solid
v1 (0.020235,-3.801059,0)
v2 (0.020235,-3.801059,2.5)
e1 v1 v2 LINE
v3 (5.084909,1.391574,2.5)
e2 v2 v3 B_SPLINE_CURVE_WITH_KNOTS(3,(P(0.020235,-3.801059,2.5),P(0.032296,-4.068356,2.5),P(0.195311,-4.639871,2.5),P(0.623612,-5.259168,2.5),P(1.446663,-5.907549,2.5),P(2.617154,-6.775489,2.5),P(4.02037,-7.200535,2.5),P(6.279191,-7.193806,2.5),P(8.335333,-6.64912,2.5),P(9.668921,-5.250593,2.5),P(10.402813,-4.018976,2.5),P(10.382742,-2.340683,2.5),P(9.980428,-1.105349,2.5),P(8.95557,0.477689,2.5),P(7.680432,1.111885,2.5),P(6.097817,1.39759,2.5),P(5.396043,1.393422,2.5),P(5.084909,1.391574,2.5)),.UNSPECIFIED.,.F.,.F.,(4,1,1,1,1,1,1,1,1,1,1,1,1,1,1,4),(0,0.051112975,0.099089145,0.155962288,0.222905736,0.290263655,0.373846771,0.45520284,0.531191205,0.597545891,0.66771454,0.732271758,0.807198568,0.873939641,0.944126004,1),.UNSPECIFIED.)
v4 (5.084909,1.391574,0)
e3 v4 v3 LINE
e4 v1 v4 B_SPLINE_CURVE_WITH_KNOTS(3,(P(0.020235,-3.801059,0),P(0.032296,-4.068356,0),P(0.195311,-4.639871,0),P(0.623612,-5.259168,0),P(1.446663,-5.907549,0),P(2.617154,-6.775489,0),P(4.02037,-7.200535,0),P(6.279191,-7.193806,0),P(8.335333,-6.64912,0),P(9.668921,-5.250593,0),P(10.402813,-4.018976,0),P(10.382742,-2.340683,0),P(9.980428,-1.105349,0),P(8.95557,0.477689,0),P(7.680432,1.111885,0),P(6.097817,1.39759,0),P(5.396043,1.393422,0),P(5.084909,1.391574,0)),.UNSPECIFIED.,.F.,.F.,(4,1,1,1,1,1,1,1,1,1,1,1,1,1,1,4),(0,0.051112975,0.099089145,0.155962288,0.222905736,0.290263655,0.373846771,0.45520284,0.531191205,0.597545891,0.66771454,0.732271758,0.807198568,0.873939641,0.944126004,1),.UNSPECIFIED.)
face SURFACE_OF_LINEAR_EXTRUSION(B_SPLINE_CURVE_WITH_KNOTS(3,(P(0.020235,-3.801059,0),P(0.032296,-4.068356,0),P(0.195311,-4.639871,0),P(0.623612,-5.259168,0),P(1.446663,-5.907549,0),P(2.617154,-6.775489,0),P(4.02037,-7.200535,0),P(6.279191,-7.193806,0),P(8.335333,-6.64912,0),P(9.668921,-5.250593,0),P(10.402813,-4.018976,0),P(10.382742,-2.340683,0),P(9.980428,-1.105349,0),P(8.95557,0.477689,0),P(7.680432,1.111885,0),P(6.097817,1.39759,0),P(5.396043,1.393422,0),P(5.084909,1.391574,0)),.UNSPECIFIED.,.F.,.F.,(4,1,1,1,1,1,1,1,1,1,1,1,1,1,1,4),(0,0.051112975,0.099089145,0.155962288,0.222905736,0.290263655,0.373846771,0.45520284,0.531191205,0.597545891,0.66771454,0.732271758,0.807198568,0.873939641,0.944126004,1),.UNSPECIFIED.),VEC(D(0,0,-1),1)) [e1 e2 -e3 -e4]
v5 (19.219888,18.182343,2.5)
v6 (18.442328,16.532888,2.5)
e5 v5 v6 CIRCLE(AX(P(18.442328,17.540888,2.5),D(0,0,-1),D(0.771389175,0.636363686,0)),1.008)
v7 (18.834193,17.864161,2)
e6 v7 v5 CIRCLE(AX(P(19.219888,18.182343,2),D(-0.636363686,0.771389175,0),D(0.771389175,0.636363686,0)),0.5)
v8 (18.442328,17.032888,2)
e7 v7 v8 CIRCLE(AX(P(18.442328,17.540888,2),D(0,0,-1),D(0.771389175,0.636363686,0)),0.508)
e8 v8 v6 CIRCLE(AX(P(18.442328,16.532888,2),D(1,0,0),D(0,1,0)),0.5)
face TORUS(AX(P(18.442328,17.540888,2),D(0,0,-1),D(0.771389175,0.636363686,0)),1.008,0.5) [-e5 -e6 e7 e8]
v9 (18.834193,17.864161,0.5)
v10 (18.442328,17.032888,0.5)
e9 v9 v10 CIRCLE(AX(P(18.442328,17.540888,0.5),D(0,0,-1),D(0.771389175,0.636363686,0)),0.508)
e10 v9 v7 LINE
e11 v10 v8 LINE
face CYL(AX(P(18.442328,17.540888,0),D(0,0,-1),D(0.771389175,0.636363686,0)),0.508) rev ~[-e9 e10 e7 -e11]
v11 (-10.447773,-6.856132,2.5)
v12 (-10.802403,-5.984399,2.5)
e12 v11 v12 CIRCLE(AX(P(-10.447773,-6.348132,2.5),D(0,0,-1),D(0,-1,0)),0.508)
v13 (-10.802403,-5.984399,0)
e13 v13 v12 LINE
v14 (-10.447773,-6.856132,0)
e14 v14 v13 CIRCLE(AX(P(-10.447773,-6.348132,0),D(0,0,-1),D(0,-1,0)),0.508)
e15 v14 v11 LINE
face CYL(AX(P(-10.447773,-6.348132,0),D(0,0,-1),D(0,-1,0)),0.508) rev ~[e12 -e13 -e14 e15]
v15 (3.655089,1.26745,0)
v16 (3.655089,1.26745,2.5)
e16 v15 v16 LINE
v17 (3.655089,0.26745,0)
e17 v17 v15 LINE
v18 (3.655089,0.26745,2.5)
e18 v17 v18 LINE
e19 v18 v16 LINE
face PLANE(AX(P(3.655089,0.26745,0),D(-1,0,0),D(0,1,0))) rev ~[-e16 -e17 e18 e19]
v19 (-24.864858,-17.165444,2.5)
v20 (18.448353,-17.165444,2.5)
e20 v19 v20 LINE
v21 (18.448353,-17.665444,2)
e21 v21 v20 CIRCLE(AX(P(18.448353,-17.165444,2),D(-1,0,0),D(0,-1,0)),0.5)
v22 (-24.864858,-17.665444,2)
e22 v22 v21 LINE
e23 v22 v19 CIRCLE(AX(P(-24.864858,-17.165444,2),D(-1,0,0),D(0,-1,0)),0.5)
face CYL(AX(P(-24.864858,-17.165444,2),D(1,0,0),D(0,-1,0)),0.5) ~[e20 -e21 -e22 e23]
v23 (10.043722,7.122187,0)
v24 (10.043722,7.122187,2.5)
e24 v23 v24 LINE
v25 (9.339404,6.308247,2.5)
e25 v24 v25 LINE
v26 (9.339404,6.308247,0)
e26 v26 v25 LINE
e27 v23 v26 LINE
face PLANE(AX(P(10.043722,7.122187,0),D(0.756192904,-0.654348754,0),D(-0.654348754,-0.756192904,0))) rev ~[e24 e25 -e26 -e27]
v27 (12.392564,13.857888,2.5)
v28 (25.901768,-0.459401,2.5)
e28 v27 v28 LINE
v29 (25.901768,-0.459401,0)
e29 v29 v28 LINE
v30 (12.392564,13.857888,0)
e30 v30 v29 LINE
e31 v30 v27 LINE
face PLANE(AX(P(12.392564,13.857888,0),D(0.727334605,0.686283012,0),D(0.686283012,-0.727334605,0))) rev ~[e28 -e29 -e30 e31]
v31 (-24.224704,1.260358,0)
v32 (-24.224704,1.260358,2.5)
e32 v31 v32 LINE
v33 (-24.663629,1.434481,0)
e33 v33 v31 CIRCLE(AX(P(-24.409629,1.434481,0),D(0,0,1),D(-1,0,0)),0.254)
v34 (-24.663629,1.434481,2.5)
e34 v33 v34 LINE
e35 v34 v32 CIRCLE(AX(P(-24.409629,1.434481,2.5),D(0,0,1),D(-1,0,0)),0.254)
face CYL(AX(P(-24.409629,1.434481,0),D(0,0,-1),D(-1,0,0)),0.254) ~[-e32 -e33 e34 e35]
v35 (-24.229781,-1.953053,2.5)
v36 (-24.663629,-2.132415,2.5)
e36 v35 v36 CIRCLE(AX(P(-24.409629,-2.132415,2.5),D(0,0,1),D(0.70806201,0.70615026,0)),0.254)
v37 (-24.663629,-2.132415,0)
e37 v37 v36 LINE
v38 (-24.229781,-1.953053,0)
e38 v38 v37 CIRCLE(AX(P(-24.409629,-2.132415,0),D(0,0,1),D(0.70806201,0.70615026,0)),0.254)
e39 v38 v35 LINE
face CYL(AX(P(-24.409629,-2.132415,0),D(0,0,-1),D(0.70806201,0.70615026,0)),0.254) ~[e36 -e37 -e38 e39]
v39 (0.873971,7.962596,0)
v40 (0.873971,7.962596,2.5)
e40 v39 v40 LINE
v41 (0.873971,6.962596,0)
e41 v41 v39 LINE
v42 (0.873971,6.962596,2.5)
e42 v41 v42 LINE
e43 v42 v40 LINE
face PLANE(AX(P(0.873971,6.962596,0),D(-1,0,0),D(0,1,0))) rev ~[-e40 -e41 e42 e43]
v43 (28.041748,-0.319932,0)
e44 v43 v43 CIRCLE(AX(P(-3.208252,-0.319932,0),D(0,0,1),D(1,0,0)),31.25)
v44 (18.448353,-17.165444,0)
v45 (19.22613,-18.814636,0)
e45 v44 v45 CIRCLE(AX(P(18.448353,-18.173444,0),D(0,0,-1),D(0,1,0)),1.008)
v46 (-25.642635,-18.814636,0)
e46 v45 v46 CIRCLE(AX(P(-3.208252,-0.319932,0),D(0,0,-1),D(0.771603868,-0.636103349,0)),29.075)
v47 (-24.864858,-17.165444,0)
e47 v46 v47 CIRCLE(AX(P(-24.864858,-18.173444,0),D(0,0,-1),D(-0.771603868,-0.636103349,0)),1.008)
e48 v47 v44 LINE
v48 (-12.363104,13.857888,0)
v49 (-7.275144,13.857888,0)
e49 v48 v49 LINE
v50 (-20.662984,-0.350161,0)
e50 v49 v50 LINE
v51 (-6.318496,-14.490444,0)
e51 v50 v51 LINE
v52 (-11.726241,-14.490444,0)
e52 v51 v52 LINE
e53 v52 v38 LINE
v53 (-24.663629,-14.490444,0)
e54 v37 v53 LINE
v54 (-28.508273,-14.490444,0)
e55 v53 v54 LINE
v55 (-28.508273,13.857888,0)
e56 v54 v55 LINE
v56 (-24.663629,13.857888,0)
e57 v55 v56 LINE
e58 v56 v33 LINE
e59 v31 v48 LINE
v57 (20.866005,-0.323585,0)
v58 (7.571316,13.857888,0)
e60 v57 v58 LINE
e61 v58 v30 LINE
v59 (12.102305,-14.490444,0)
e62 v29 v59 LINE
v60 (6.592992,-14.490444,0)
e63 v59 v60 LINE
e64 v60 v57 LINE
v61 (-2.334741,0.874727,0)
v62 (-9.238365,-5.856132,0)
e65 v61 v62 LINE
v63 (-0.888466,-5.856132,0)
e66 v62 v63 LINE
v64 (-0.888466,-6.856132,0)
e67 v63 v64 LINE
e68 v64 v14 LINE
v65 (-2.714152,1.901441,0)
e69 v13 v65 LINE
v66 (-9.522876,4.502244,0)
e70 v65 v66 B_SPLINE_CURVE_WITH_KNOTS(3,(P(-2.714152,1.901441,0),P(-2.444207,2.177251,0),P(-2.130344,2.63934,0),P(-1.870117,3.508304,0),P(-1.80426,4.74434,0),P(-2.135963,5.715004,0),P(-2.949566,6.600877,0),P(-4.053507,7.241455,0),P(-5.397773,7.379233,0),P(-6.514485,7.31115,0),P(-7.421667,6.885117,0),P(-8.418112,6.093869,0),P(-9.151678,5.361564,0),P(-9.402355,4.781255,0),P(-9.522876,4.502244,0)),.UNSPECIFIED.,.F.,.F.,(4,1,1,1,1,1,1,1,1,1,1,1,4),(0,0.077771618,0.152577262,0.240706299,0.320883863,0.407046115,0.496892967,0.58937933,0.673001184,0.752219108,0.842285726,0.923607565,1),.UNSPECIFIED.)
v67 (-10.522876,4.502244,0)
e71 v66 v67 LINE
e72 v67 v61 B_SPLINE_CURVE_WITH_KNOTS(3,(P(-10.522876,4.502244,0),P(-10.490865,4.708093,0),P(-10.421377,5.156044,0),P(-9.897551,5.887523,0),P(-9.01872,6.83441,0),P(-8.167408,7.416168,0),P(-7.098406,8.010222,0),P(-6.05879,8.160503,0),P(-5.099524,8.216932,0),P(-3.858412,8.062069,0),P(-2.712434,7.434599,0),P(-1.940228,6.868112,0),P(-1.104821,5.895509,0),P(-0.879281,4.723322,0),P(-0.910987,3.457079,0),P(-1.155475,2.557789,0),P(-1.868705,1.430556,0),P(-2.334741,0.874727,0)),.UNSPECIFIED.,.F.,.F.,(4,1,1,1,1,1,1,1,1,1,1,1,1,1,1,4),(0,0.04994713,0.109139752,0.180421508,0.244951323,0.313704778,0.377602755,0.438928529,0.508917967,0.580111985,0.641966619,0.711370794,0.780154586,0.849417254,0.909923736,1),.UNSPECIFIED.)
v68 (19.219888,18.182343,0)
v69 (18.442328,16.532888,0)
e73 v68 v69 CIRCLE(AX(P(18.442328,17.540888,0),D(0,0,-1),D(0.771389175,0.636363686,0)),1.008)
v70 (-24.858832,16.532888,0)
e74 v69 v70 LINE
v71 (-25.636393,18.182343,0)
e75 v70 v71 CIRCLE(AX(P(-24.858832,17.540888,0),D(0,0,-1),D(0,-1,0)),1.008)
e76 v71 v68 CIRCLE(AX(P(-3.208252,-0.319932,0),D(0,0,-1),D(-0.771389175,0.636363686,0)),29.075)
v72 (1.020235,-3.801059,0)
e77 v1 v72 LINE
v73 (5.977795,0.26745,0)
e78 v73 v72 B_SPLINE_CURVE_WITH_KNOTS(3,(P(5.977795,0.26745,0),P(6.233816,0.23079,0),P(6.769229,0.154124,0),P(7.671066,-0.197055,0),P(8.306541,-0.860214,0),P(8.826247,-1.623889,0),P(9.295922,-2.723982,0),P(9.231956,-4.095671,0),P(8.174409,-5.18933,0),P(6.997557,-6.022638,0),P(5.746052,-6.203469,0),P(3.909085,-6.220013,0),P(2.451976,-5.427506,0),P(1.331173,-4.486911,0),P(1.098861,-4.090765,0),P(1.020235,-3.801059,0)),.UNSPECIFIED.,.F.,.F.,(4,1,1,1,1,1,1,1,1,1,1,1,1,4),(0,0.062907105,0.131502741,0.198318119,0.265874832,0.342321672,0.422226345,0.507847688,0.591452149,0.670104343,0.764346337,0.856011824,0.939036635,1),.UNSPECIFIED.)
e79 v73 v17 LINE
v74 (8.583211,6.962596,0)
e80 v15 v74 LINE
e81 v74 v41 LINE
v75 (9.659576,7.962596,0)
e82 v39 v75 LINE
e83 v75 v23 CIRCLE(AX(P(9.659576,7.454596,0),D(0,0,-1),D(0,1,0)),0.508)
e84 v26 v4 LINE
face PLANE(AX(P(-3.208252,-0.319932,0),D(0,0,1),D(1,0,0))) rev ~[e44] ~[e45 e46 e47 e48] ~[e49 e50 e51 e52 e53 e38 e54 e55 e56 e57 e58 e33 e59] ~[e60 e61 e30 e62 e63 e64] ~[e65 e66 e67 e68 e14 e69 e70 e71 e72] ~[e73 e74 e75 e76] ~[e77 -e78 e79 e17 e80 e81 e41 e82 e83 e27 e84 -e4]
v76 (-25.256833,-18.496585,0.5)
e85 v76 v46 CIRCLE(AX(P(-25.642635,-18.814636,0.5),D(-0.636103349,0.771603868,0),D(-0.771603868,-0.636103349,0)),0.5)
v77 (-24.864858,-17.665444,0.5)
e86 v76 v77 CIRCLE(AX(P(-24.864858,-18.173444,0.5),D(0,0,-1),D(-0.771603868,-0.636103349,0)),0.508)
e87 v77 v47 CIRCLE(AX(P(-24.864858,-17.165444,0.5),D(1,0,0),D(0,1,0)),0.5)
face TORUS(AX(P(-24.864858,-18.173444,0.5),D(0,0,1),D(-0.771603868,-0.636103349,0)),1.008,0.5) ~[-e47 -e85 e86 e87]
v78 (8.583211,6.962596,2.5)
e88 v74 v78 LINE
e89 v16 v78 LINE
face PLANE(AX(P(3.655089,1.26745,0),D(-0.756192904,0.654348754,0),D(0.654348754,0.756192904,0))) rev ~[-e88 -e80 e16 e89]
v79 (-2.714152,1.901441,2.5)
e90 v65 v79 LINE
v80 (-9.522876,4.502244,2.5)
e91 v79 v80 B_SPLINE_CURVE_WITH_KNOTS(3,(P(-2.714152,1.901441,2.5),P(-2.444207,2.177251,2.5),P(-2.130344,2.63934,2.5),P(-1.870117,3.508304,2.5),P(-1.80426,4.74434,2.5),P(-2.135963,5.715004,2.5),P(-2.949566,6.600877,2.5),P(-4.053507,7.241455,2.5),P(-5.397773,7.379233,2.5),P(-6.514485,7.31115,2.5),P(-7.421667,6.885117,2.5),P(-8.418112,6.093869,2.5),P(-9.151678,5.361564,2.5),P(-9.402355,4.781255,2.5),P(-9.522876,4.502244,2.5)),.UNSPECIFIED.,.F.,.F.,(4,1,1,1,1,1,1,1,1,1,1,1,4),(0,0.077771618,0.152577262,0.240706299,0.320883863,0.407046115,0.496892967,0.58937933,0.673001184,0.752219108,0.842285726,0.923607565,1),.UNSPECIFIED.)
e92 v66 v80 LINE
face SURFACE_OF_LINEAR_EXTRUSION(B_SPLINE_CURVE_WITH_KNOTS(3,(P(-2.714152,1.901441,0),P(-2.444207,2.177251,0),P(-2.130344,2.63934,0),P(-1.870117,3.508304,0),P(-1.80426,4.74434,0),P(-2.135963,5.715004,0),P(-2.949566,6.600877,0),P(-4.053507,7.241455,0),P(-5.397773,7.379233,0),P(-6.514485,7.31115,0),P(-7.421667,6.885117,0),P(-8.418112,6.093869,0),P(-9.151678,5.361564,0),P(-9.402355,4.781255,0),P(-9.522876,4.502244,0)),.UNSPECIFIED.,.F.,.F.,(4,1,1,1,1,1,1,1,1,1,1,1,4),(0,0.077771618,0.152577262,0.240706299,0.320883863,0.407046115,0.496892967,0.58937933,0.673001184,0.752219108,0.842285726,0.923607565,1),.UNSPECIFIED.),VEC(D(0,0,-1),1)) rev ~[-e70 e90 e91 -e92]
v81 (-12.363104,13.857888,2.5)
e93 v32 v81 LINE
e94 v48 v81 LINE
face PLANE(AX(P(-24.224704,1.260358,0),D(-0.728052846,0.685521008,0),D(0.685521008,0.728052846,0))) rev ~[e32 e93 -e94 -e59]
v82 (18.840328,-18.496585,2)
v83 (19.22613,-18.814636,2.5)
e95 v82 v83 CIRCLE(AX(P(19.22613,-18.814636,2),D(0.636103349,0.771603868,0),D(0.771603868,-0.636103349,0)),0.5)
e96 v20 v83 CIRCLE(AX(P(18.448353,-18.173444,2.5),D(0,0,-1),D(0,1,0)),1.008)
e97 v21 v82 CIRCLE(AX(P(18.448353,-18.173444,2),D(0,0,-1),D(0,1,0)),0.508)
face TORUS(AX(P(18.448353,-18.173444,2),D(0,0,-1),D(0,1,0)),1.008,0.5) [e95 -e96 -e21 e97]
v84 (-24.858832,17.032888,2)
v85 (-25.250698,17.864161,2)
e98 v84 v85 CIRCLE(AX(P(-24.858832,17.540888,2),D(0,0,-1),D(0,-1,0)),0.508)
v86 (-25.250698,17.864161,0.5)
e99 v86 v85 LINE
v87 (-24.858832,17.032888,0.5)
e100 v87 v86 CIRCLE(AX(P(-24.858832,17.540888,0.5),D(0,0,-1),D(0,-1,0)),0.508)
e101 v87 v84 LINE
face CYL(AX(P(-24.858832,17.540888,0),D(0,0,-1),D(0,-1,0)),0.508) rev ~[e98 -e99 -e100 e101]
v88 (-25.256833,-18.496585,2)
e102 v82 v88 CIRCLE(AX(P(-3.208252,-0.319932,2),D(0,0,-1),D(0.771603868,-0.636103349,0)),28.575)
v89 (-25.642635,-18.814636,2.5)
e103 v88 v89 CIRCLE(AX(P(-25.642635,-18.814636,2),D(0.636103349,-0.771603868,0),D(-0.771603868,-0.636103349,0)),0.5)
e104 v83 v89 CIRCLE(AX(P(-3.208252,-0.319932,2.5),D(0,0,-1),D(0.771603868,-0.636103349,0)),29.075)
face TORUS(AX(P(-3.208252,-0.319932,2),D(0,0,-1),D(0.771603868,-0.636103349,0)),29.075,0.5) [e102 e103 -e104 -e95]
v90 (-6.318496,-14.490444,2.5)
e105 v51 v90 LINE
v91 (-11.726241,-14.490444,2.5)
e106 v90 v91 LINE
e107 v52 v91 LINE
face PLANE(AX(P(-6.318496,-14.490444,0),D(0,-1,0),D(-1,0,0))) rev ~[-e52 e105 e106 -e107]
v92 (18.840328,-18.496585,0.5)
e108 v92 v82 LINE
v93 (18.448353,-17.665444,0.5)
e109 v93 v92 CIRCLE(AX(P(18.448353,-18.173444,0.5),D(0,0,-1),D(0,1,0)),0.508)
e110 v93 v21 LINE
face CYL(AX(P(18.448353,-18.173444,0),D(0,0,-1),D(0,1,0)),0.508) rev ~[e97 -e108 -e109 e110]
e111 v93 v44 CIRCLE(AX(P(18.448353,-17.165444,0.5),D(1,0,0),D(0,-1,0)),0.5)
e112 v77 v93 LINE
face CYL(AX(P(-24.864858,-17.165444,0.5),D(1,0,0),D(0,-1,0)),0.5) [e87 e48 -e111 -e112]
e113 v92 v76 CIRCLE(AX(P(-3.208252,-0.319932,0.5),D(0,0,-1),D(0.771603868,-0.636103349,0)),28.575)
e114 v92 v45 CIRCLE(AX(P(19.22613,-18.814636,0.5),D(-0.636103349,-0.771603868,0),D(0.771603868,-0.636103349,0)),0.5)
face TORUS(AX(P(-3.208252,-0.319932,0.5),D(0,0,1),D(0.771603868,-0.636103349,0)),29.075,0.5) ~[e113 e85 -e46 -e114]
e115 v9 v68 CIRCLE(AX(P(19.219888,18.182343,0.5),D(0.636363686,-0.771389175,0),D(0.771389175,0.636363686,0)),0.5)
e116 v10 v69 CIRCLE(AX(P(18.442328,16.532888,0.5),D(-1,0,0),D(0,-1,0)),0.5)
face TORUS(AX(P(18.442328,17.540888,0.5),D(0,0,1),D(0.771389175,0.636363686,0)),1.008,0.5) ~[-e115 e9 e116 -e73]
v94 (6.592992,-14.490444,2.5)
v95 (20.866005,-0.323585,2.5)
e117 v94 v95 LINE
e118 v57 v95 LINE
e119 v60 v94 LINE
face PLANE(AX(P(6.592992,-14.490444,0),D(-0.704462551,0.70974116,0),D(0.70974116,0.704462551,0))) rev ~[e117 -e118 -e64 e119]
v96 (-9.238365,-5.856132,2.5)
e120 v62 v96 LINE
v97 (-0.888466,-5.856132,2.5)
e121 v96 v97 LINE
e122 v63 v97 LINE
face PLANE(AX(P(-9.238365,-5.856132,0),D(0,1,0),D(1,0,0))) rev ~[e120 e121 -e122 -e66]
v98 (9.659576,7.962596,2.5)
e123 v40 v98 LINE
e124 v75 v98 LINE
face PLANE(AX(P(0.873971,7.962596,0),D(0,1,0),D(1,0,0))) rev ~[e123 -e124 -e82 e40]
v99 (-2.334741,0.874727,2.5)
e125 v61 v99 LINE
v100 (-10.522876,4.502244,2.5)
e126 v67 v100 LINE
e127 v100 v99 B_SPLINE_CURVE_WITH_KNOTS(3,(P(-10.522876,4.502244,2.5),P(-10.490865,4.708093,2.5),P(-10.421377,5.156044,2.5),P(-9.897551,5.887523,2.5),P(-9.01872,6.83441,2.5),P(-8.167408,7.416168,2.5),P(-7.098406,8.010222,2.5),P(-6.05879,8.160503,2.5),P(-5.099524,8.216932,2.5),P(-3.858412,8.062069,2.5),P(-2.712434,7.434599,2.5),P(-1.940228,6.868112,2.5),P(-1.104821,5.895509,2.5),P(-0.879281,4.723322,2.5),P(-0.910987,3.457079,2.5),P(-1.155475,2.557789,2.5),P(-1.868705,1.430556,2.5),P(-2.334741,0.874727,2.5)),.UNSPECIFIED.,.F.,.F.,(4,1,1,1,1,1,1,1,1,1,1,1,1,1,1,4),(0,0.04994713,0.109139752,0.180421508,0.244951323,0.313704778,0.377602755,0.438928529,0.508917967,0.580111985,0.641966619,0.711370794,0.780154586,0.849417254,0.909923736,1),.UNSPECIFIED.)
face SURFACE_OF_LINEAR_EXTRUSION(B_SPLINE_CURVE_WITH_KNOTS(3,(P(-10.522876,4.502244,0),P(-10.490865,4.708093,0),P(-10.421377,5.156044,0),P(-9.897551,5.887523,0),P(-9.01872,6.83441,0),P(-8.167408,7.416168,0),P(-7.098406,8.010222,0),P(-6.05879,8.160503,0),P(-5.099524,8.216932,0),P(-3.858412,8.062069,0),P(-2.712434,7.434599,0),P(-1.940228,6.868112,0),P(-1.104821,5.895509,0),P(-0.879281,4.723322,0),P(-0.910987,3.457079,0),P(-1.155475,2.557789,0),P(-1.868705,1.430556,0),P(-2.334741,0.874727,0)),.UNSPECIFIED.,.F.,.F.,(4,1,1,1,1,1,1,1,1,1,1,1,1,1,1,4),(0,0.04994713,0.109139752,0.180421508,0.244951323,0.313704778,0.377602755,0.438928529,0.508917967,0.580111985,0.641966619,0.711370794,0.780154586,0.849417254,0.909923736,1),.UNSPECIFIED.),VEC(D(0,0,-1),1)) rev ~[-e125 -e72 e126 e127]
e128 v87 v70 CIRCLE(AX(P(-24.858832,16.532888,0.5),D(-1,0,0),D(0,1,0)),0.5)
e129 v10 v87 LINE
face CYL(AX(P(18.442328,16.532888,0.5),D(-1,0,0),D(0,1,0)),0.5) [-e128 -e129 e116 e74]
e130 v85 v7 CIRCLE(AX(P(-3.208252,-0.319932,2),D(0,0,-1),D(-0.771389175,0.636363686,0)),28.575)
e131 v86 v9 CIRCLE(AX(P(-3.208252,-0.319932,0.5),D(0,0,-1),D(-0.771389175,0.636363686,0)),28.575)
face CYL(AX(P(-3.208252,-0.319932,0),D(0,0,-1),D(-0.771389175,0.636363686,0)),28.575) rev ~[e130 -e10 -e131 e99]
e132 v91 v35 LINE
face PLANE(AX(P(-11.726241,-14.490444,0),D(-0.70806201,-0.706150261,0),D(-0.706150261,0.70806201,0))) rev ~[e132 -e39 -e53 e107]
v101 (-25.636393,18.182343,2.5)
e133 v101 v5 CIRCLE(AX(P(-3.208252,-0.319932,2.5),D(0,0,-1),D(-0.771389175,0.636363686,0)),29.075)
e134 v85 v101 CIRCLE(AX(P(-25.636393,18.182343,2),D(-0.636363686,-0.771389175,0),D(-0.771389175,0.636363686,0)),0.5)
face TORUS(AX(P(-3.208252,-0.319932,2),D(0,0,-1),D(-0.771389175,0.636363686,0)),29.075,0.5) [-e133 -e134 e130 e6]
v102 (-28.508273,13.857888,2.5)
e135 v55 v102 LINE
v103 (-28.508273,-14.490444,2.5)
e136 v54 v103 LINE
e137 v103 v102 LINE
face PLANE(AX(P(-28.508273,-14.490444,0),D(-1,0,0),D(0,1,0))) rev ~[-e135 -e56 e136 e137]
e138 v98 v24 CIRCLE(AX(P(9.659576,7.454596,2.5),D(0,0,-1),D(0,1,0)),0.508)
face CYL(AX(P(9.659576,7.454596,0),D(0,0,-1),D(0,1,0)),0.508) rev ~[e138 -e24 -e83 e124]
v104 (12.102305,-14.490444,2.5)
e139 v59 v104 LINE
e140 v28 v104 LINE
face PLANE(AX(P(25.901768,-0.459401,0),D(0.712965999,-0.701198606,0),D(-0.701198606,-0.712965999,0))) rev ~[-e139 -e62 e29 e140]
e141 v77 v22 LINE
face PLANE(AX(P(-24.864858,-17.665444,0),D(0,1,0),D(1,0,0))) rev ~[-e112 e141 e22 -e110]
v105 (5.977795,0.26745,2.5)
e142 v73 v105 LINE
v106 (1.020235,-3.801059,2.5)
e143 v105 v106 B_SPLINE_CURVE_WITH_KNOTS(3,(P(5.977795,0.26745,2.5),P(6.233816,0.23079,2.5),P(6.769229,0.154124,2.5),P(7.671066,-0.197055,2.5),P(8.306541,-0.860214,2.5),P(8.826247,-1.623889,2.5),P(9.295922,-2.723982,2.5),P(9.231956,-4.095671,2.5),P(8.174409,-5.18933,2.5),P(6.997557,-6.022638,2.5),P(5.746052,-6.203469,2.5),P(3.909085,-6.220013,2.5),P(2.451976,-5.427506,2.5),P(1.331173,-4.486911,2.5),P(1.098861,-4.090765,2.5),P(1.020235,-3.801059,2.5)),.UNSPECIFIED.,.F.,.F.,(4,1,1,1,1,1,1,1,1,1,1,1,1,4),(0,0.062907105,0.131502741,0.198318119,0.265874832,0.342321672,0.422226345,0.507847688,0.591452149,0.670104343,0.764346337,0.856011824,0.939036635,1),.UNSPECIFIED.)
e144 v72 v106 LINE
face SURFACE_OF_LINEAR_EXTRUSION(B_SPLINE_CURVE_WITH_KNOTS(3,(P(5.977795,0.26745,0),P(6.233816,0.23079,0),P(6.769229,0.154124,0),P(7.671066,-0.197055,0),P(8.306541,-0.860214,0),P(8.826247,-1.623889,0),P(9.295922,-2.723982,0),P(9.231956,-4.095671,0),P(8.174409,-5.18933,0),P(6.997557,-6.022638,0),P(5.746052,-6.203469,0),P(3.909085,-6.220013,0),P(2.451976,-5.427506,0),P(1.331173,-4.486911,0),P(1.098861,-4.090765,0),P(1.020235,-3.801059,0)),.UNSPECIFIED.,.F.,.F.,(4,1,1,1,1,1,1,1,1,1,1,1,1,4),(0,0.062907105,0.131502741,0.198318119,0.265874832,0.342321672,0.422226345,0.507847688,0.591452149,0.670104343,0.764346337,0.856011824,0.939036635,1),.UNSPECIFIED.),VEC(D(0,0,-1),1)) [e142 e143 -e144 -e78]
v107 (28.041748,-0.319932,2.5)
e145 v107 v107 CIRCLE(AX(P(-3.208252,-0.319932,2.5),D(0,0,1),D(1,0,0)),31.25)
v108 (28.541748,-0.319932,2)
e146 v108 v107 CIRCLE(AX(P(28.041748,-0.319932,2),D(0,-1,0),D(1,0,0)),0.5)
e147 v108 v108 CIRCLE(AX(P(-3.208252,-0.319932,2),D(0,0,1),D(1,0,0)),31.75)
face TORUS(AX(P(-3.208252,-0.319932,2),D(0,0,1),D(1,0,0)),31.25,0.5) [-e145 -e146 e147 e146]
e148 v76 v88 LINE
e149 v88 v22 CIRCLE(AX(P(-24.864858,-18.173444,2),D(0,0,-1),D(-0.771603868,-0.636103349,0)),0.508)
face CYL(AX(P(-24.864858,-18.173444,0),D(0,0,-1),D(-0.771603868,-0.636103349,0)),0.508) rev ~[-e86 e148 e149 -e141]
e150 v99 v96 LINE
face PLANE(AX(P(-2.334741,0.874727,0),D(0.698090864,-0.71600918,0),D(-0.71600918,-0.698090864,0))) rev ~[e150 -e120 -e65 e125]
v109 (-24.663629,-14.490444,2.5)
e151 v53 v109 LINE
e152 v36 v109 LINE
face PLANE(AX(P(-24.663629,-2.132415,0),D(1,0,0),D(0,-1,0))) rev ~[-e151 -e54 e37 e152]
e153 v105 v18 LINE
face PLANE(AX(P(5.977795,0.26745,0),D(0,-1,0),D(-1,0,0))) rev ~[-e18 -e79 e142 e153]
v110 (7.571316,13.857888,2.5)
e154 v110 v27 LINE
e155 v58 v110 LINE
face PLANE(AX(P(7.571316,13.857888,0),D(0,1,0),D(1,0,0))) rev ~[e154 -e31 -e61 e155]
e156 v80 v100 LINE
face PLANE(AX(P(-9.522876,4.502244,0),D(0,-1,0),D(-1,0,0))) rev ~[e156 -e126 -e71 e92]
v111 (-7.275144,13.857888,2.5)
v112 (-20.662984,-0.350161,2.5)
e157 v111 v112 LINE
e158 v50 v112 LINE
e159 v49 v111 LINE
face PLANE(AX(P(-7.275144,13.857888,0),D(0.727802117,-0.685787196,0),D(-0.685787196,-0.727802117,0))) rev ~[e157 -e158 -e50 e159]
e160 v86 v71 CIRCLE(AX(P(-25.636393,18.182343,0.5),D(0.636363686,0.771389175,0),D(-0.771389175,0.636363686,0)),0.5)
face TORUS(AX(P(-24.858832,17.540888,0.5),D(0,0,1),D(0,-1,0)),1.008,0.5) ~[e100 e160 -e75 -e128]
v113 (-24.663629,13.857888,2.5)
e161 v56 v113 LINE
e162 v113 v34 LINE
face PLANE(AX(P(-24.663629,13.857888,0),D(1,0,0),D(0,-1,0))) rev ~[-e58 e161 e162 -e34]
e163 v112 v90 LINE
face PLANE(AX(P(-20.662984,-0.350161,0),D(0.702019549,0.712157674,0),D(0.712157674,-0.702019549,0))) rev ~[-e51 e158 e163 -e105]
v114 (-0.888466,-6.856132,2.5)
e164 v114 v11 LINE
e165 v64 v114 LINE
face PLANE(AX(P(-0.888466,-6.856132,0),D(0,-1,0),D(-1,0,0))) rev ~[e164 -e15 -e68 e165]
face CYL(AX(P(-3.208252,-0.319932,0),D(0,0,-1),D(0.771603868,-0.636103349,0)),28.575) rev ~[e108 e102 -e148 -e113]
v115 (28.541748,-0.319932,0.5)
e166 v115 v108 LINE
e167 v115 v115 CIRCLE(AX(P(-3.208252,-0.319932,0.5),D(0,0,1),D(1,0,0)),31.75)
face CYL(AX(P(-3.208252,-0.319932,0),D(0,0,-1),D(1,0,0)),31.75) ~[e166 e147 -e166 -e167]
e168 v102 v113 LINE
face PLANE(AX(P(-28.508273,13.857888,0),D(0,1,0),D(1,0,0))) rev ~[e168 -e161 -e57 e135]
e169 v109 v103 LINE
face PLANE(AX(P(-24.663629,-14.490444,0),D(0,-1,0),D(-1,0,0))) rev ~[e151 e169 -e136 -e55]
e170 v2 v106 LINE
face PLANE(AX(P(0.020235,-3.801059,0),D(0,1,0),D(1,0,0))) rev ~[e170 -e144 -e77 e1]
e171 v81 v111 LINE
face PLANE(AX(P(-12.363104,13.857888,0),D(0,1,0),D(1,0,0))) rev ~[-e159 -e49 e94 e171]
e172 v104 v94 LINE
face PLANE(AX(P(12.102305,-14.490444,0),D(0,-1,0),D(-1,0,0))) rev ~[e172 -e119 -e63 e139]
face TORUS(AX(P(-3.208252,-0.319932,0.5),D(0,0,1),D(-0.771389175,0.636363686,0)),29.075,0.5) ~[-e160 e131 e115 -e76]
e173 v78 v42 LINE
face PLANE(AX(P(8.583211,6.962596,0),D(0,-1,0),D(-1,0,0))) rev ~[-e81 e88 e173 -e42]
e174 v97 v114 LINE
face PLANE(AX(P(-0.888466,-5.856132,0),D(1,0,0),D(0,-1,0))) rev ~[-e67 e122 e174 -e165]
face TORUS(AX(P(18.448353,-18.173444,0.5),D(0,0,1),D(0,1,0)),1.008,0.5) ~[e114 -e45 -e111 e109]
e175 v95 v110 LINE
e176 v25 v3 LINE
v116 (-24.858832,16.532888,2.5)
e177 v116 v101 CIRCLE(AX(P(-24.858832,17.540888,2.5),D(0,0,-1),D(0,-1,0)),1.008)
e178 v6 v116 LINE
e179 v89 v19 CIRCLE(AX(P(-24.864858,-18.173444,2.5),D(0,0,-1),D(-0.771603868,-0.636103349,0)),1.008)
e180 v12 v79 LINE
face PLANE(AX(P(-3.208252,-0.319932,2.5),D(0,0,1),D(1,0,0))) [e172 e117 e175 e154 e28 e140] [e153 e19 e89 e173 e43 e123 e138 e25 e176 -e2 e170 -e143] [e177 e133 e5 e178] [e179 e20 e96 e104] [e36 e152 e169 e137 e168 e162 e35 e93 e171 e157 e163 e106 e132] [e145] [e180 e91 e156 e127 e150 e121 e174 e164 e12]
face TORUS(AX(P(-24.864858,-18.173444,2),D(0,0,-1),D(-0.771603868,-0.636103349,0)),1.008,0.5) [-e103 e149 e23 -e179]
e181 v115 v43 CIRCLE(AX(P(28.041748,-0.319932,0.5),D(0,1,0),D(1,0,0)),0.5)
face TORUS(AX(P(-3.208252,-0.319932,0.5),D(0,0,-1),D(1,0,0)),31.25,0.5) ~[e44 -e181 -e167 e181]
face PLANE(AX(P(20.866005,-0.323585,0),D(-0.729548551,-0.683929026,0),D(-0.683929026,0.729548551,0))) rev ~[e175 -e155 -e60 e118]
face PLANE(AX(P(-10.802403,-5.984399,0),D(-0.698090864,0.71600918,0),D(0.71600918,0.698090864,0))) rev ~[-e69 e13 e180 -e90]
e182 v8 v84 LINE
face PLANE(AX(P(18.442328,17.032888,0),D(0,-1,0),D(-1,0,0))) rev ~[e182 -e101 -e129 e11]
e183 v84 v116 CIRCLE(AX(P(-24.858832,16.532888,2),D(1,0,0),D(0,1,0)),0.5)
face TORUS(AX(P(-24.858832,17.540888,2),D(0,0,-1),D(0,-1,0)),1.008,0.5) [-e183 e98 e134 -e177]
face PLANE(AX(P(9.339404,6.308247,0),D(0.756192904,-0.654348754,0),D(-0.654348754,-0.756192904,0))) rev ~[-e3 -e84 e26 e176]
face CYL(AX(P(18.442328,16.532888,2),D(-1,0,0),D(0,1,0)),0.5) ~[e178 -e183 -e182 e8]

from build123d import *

# Parameters (mm, degrees)
F0_R     = 31.75
F1_DEPTH = 2.5
F2_R     = 0.5


with BuildPart() as f1:
    # F0 (on Top) → F1 (new body)
    with BuildSketch(Plane.XY):
        with Locations((-3.2082523414, -0.3199315106)):
            Circle(F0_R)
        with BuildLine():
            ThreePointArc((18.8403281867, -18.4965847146), (-3.2082523414, -28.8949315106), (-25.2568328695, -18.4965847146))
            ThreePointArc((-25.2568328695, -18.4965847146), (-25.3243248469, -17.9567547749), (-24.8648581045, -17.6654442132))
            Line((-24.8648581045, -17.6654442132), (18.4483534217, -17.6654442132))
            ThreePointArc((18.4483534217, -17.6654442132), (18.9078201641, -17.9567547749), (18.8403281867, -18.4965847146))
        make_face(mode=Mode.SUBTRACT)
        with BuildLine():
            Line((-24.6636290103, -14.4904442132), (-28.5082730394, -14.4904442132))
            Line((-28.5082730394, -14.4904442132), (-28.5082730394, 13.8578880578))
            Line((-28.5082730394, 13.8578880578), (-24.6636290103, 13.8578880578))
            Line((-24.6636290103, 13.8578880578), (-24.6636290103, 1.4344807386))
            ThreePointArc((-24.6636290103, 1.4344807386), (-24.503290482, 1.1983800636), (-24.2247035874, 1.2603584025))
            Line((-24.2247035874, 1.2603584025), (-12.3631041497, 13.8578880578))
            Line((-12.3631041497, 13.8578880578), (-7.2751441039, 13.8578880578))
            Line((-7.2751441039, 13.8578880578), (-20.6629838794, -0.350161019))
            Line((-20.6629838794, -0.350161019), (-6.3184956089, -14.4904442132))
            Line((-6.3184956089, -14.4904442132), (-11.7262406275, -14.4904442132))
            Line((-11.7262406275, -14.4904442132), (-24.2297812599, -1.9530529503))
            ThreePointArc((-24.2297812599, -1.9530529503), (-24.5066719683, -1.8976840697), (-24.6636290103, -2.1324151164))
            Line((-24.6636290103, -2.1324151164), (-24.6636290103, -14.4904442132))
        make_face(mode=Mode.SUBTRACT)
        with BuildLine():
            Line((-0.8884655545, -5.856131833), (-0.8884655545, -6.856131833))
            Line((-0.8884655545, -6.856131833), (-10.4477728416, -6.856131833))
            ThreePointArc((-10.4477728416, -6.856131833), (-10.9183258105, -6.5395578069), (-10.8024030004, -5.9843991696))
            Line((-10.8024030004, -5.9843991696), (-2.7141517494, 1.9014414866))
            add(Edge.make_bspline(
                [(-2.7141517494, 1.9014414866), (-2.4442072689, 2.1772513645), (-2.1303435458, 2.6393397302), (-1.8701166164, 3.5083037841), (-1.8042602145, 4.7443401395), (-2.1359625095, 5.7150039927), (-2.9495657379, 6.6008771772), (-4.053506575, 7.2414545885), (-5.3977733042, 7.3792332505), (-6.5144848928, 7.3111502788), (-7.421667254, 6.8851165946), (-8.4181124243, 6.09386894), (-9.1516781638, 5.3615640007), (-9.4023551981, 4.7812554911), (-9.5228757709, 4.5022442937)],
                knots=[0, 0, 0, 0, 0.0777716176, 0.1525772623, 0.2407062995, 0.3208838627, 0.4070461152, 0.4968929668, 0.5893793296, 0.6730011837, 0.7522191079, 0.8422857258, 0.9236075646, 1, 1, 1, 1], degree=3))
            Line((-9.5228757709, 4.5022442937), (-10.5228757709, 4.5022442937))
            add(Edge.make_bspline(
                [(-10.5228757709, 4.5022442937), (-10.4908648253, 4.7080925284), (-10.4213770955, 5.1560439877), (-9.8975507524, 5.8875232355), (-9.0187197273, 6.8344096055), (-8.1674075012, 7.4161676766), (-7.0984056874, 8.0102215861), (-6.0587899923, 8.160503116), (-5.0995244369, 8.2169323807), (-3.8584118628, 8.0620687419), (-2.712434291, 7.4345991257), (-1.9402276502, 6.8681116088), (-1.1048208261, 5.8955089512), (-0.8792805901, 4.7233217895), (-0.9109868983, 3.4570786662), (-1.1554754003, 2.5577886921), (-1.8687046246, 1.4305560249), (-2.334741218, 0.8747270325)],
                knots=[0, 0, 0, 0, 0.0499471301, 0.1091397519, 0.1804215081, 0.2449513234, 0.3137047776, 0.3776027552, 0.438928529, 0.5089179669, 0.5801119853, 0.6419666187, 0.7113707942, 0.7801545863, 0.849417254, 0.9099237356, 1, 1, 1, 1], degree=3))
            Line((-2.334741218, 0.8747270325), (-9.2383650691, -5.856131833))
            Line((-9.2383650691, -5.856131833), (-0.8884655545, -5.856131833))
        make_face(mode=Mode.SUBTRACT)
        with BuildLine():
            Line((0.8739705081, 6.9625956714), (0.8739705081, 7.9625956714))
            Line((0.8739705081, 7.9625956714), (9.6595763559, 7.9625956714))
            ThreePointArc((9.6595763559, 7.9625956714), (10.1215979229, 7.6657829616), (10.0437223511, 7.1221865043))
            Line((10.0437223511, 7.1221865043), (9.3394042439, 6.3082469173))
            Line((9.3394042439, 6.3082469173), (5.0849091954, 1.3915737438))
            add(Edge.make_bspline(
                [(0.0202346602, -3.8010592107), (0.0322960824, -4.0683558874), (0.1953113753, -4.6398705329), (0.6236121458, -5.2591682706), (1.4466625388, -5.9075488009), (2.6171543427, -6.7754885672), (4.0203703656, -7.2005349667), (6.2791906462, -7.1938064326), (8.3353331566, -6.6491203947), (9.668921225, -5.2505931707), (10.4028128472, -4.0189759901), (10.3827422952, -2.3406826014), (9.9804275248, -1.1053490479), (8.9555702424, 0.4776891253), (7.6804318437, 1.1118851744), (6.0978167807, 1.3975900559), (5.396042744, 1.3934217174), (5.0849091954, 1.3915737438)],
                knots=[0, 0, 0, 0, 0.0511129754, 0.0990891446, 0.1559622878, 0.2229057363, 0.2902636551, 0.373846771, 0.4552028401, 0.5311912045, 0.5975458909, 0.6677145395, 0.7322717578, 0.8071985683, 0.8739396412, 0.9441260045, 1, 1, 1, 1], degree=3))
            Line((0.0202346602, -3.8010592107), (1.0202346602, -3.8010592107))
            add(Edge.make_bspline(
                [(5.9777954593, 0.2674500211), (6.2338162728, 0.2307901879), (6.7692291607, 0.1541240459), (7.6710662593, -0.1970550881), (8.3065406831, -0.8602142971), (8.8262473387, -1.6238894869), (9.2959222383, -2.7239824373), (9.2319564408, -4.095671291), (8.1744088816, -5.1893297553), (6.9975566837, -6.0226376821), (5.7460518378, -6.2034693749), (3.9090852134, -6.2200128267), (2.4519759638, -5.4275062724), (1.331173038, -4.4869114459), (1.0988605209, -4.0907645598), (1.0202346602, -3.8010592107)],
                knots=[0, 0, 0, 0, 0.0629071045, 0.1315027411, 0.1983181189, 0.2658748322, 0.3423216722, 0.4222263447, 0.5078476883, 0.5914521489, 0.6701043426, 0.7643463369, 0.8560118243, 0.9390366353, 1, 1, 1, 1], degree=3))
            Line((5.9777954593, 0.2674500211), (3.65508858, 0.2674500211))
            Line((3.65508858, 0.2674500211), (3.65508858, 1.2674500211))
            Line((3.65508858, 1.2674500211), (8.58321134, 6.9625956714))
            Line((8.58321134, 6.9625956714), (0.8739705081, 6.9625956714))
        make_face(mode=Mode.SUBTRACT)
        Polygon((7.5713158585, 13.8578880578), (12.3925637454, 13.8578880578), (25.9017683566, -0.4594006168), (12.1023049578, -14.4904442132), (6.5929917619, -14.4904442132), (20.8660047501, -0.3235849435), align=None, mode=Mode.SUBTRACT)
        with BuildLine():
            Line((18.4423276357, 17.0328880578), (-24.8588323185, 17.0328880578))
            ThreePointArc((-24.8588323185, 17.0328880578), (-25.3183356146, 17.3242761447), (-25.2506980194, 17.8641608102))
            ThreePointArc((-25.2506980194, 17.8641608102), (-3.2082523414, 28.2550684894), (18.8341933366, 17.8641608102))
            ThreePointArc((18.8341933366, 17.8641608102), (18.9018309318, 17.3242761447), (18.4423276357, 17.0328880578))
        make_face(mode=Mode.SUBTRACT)
    extrude(amount=F1_DEPTH)

    # F2
    f2_edges = [f1.edges().sort_by_distance(p)[0] for p in [
        (-34.958252, -0.319932, 2.5),
        (-3.208252, -17.665444, 2.5),
        (-3.208252, 17.032888, 2.5),
        (-34.958252, -0.319932, 0),
        (-3.208252, -28.894932, 0),
        (-3.208252, 28.255068, 0),
    ]]
    fillet(f2_edges, radius=F2_R)


solid = f1.part
